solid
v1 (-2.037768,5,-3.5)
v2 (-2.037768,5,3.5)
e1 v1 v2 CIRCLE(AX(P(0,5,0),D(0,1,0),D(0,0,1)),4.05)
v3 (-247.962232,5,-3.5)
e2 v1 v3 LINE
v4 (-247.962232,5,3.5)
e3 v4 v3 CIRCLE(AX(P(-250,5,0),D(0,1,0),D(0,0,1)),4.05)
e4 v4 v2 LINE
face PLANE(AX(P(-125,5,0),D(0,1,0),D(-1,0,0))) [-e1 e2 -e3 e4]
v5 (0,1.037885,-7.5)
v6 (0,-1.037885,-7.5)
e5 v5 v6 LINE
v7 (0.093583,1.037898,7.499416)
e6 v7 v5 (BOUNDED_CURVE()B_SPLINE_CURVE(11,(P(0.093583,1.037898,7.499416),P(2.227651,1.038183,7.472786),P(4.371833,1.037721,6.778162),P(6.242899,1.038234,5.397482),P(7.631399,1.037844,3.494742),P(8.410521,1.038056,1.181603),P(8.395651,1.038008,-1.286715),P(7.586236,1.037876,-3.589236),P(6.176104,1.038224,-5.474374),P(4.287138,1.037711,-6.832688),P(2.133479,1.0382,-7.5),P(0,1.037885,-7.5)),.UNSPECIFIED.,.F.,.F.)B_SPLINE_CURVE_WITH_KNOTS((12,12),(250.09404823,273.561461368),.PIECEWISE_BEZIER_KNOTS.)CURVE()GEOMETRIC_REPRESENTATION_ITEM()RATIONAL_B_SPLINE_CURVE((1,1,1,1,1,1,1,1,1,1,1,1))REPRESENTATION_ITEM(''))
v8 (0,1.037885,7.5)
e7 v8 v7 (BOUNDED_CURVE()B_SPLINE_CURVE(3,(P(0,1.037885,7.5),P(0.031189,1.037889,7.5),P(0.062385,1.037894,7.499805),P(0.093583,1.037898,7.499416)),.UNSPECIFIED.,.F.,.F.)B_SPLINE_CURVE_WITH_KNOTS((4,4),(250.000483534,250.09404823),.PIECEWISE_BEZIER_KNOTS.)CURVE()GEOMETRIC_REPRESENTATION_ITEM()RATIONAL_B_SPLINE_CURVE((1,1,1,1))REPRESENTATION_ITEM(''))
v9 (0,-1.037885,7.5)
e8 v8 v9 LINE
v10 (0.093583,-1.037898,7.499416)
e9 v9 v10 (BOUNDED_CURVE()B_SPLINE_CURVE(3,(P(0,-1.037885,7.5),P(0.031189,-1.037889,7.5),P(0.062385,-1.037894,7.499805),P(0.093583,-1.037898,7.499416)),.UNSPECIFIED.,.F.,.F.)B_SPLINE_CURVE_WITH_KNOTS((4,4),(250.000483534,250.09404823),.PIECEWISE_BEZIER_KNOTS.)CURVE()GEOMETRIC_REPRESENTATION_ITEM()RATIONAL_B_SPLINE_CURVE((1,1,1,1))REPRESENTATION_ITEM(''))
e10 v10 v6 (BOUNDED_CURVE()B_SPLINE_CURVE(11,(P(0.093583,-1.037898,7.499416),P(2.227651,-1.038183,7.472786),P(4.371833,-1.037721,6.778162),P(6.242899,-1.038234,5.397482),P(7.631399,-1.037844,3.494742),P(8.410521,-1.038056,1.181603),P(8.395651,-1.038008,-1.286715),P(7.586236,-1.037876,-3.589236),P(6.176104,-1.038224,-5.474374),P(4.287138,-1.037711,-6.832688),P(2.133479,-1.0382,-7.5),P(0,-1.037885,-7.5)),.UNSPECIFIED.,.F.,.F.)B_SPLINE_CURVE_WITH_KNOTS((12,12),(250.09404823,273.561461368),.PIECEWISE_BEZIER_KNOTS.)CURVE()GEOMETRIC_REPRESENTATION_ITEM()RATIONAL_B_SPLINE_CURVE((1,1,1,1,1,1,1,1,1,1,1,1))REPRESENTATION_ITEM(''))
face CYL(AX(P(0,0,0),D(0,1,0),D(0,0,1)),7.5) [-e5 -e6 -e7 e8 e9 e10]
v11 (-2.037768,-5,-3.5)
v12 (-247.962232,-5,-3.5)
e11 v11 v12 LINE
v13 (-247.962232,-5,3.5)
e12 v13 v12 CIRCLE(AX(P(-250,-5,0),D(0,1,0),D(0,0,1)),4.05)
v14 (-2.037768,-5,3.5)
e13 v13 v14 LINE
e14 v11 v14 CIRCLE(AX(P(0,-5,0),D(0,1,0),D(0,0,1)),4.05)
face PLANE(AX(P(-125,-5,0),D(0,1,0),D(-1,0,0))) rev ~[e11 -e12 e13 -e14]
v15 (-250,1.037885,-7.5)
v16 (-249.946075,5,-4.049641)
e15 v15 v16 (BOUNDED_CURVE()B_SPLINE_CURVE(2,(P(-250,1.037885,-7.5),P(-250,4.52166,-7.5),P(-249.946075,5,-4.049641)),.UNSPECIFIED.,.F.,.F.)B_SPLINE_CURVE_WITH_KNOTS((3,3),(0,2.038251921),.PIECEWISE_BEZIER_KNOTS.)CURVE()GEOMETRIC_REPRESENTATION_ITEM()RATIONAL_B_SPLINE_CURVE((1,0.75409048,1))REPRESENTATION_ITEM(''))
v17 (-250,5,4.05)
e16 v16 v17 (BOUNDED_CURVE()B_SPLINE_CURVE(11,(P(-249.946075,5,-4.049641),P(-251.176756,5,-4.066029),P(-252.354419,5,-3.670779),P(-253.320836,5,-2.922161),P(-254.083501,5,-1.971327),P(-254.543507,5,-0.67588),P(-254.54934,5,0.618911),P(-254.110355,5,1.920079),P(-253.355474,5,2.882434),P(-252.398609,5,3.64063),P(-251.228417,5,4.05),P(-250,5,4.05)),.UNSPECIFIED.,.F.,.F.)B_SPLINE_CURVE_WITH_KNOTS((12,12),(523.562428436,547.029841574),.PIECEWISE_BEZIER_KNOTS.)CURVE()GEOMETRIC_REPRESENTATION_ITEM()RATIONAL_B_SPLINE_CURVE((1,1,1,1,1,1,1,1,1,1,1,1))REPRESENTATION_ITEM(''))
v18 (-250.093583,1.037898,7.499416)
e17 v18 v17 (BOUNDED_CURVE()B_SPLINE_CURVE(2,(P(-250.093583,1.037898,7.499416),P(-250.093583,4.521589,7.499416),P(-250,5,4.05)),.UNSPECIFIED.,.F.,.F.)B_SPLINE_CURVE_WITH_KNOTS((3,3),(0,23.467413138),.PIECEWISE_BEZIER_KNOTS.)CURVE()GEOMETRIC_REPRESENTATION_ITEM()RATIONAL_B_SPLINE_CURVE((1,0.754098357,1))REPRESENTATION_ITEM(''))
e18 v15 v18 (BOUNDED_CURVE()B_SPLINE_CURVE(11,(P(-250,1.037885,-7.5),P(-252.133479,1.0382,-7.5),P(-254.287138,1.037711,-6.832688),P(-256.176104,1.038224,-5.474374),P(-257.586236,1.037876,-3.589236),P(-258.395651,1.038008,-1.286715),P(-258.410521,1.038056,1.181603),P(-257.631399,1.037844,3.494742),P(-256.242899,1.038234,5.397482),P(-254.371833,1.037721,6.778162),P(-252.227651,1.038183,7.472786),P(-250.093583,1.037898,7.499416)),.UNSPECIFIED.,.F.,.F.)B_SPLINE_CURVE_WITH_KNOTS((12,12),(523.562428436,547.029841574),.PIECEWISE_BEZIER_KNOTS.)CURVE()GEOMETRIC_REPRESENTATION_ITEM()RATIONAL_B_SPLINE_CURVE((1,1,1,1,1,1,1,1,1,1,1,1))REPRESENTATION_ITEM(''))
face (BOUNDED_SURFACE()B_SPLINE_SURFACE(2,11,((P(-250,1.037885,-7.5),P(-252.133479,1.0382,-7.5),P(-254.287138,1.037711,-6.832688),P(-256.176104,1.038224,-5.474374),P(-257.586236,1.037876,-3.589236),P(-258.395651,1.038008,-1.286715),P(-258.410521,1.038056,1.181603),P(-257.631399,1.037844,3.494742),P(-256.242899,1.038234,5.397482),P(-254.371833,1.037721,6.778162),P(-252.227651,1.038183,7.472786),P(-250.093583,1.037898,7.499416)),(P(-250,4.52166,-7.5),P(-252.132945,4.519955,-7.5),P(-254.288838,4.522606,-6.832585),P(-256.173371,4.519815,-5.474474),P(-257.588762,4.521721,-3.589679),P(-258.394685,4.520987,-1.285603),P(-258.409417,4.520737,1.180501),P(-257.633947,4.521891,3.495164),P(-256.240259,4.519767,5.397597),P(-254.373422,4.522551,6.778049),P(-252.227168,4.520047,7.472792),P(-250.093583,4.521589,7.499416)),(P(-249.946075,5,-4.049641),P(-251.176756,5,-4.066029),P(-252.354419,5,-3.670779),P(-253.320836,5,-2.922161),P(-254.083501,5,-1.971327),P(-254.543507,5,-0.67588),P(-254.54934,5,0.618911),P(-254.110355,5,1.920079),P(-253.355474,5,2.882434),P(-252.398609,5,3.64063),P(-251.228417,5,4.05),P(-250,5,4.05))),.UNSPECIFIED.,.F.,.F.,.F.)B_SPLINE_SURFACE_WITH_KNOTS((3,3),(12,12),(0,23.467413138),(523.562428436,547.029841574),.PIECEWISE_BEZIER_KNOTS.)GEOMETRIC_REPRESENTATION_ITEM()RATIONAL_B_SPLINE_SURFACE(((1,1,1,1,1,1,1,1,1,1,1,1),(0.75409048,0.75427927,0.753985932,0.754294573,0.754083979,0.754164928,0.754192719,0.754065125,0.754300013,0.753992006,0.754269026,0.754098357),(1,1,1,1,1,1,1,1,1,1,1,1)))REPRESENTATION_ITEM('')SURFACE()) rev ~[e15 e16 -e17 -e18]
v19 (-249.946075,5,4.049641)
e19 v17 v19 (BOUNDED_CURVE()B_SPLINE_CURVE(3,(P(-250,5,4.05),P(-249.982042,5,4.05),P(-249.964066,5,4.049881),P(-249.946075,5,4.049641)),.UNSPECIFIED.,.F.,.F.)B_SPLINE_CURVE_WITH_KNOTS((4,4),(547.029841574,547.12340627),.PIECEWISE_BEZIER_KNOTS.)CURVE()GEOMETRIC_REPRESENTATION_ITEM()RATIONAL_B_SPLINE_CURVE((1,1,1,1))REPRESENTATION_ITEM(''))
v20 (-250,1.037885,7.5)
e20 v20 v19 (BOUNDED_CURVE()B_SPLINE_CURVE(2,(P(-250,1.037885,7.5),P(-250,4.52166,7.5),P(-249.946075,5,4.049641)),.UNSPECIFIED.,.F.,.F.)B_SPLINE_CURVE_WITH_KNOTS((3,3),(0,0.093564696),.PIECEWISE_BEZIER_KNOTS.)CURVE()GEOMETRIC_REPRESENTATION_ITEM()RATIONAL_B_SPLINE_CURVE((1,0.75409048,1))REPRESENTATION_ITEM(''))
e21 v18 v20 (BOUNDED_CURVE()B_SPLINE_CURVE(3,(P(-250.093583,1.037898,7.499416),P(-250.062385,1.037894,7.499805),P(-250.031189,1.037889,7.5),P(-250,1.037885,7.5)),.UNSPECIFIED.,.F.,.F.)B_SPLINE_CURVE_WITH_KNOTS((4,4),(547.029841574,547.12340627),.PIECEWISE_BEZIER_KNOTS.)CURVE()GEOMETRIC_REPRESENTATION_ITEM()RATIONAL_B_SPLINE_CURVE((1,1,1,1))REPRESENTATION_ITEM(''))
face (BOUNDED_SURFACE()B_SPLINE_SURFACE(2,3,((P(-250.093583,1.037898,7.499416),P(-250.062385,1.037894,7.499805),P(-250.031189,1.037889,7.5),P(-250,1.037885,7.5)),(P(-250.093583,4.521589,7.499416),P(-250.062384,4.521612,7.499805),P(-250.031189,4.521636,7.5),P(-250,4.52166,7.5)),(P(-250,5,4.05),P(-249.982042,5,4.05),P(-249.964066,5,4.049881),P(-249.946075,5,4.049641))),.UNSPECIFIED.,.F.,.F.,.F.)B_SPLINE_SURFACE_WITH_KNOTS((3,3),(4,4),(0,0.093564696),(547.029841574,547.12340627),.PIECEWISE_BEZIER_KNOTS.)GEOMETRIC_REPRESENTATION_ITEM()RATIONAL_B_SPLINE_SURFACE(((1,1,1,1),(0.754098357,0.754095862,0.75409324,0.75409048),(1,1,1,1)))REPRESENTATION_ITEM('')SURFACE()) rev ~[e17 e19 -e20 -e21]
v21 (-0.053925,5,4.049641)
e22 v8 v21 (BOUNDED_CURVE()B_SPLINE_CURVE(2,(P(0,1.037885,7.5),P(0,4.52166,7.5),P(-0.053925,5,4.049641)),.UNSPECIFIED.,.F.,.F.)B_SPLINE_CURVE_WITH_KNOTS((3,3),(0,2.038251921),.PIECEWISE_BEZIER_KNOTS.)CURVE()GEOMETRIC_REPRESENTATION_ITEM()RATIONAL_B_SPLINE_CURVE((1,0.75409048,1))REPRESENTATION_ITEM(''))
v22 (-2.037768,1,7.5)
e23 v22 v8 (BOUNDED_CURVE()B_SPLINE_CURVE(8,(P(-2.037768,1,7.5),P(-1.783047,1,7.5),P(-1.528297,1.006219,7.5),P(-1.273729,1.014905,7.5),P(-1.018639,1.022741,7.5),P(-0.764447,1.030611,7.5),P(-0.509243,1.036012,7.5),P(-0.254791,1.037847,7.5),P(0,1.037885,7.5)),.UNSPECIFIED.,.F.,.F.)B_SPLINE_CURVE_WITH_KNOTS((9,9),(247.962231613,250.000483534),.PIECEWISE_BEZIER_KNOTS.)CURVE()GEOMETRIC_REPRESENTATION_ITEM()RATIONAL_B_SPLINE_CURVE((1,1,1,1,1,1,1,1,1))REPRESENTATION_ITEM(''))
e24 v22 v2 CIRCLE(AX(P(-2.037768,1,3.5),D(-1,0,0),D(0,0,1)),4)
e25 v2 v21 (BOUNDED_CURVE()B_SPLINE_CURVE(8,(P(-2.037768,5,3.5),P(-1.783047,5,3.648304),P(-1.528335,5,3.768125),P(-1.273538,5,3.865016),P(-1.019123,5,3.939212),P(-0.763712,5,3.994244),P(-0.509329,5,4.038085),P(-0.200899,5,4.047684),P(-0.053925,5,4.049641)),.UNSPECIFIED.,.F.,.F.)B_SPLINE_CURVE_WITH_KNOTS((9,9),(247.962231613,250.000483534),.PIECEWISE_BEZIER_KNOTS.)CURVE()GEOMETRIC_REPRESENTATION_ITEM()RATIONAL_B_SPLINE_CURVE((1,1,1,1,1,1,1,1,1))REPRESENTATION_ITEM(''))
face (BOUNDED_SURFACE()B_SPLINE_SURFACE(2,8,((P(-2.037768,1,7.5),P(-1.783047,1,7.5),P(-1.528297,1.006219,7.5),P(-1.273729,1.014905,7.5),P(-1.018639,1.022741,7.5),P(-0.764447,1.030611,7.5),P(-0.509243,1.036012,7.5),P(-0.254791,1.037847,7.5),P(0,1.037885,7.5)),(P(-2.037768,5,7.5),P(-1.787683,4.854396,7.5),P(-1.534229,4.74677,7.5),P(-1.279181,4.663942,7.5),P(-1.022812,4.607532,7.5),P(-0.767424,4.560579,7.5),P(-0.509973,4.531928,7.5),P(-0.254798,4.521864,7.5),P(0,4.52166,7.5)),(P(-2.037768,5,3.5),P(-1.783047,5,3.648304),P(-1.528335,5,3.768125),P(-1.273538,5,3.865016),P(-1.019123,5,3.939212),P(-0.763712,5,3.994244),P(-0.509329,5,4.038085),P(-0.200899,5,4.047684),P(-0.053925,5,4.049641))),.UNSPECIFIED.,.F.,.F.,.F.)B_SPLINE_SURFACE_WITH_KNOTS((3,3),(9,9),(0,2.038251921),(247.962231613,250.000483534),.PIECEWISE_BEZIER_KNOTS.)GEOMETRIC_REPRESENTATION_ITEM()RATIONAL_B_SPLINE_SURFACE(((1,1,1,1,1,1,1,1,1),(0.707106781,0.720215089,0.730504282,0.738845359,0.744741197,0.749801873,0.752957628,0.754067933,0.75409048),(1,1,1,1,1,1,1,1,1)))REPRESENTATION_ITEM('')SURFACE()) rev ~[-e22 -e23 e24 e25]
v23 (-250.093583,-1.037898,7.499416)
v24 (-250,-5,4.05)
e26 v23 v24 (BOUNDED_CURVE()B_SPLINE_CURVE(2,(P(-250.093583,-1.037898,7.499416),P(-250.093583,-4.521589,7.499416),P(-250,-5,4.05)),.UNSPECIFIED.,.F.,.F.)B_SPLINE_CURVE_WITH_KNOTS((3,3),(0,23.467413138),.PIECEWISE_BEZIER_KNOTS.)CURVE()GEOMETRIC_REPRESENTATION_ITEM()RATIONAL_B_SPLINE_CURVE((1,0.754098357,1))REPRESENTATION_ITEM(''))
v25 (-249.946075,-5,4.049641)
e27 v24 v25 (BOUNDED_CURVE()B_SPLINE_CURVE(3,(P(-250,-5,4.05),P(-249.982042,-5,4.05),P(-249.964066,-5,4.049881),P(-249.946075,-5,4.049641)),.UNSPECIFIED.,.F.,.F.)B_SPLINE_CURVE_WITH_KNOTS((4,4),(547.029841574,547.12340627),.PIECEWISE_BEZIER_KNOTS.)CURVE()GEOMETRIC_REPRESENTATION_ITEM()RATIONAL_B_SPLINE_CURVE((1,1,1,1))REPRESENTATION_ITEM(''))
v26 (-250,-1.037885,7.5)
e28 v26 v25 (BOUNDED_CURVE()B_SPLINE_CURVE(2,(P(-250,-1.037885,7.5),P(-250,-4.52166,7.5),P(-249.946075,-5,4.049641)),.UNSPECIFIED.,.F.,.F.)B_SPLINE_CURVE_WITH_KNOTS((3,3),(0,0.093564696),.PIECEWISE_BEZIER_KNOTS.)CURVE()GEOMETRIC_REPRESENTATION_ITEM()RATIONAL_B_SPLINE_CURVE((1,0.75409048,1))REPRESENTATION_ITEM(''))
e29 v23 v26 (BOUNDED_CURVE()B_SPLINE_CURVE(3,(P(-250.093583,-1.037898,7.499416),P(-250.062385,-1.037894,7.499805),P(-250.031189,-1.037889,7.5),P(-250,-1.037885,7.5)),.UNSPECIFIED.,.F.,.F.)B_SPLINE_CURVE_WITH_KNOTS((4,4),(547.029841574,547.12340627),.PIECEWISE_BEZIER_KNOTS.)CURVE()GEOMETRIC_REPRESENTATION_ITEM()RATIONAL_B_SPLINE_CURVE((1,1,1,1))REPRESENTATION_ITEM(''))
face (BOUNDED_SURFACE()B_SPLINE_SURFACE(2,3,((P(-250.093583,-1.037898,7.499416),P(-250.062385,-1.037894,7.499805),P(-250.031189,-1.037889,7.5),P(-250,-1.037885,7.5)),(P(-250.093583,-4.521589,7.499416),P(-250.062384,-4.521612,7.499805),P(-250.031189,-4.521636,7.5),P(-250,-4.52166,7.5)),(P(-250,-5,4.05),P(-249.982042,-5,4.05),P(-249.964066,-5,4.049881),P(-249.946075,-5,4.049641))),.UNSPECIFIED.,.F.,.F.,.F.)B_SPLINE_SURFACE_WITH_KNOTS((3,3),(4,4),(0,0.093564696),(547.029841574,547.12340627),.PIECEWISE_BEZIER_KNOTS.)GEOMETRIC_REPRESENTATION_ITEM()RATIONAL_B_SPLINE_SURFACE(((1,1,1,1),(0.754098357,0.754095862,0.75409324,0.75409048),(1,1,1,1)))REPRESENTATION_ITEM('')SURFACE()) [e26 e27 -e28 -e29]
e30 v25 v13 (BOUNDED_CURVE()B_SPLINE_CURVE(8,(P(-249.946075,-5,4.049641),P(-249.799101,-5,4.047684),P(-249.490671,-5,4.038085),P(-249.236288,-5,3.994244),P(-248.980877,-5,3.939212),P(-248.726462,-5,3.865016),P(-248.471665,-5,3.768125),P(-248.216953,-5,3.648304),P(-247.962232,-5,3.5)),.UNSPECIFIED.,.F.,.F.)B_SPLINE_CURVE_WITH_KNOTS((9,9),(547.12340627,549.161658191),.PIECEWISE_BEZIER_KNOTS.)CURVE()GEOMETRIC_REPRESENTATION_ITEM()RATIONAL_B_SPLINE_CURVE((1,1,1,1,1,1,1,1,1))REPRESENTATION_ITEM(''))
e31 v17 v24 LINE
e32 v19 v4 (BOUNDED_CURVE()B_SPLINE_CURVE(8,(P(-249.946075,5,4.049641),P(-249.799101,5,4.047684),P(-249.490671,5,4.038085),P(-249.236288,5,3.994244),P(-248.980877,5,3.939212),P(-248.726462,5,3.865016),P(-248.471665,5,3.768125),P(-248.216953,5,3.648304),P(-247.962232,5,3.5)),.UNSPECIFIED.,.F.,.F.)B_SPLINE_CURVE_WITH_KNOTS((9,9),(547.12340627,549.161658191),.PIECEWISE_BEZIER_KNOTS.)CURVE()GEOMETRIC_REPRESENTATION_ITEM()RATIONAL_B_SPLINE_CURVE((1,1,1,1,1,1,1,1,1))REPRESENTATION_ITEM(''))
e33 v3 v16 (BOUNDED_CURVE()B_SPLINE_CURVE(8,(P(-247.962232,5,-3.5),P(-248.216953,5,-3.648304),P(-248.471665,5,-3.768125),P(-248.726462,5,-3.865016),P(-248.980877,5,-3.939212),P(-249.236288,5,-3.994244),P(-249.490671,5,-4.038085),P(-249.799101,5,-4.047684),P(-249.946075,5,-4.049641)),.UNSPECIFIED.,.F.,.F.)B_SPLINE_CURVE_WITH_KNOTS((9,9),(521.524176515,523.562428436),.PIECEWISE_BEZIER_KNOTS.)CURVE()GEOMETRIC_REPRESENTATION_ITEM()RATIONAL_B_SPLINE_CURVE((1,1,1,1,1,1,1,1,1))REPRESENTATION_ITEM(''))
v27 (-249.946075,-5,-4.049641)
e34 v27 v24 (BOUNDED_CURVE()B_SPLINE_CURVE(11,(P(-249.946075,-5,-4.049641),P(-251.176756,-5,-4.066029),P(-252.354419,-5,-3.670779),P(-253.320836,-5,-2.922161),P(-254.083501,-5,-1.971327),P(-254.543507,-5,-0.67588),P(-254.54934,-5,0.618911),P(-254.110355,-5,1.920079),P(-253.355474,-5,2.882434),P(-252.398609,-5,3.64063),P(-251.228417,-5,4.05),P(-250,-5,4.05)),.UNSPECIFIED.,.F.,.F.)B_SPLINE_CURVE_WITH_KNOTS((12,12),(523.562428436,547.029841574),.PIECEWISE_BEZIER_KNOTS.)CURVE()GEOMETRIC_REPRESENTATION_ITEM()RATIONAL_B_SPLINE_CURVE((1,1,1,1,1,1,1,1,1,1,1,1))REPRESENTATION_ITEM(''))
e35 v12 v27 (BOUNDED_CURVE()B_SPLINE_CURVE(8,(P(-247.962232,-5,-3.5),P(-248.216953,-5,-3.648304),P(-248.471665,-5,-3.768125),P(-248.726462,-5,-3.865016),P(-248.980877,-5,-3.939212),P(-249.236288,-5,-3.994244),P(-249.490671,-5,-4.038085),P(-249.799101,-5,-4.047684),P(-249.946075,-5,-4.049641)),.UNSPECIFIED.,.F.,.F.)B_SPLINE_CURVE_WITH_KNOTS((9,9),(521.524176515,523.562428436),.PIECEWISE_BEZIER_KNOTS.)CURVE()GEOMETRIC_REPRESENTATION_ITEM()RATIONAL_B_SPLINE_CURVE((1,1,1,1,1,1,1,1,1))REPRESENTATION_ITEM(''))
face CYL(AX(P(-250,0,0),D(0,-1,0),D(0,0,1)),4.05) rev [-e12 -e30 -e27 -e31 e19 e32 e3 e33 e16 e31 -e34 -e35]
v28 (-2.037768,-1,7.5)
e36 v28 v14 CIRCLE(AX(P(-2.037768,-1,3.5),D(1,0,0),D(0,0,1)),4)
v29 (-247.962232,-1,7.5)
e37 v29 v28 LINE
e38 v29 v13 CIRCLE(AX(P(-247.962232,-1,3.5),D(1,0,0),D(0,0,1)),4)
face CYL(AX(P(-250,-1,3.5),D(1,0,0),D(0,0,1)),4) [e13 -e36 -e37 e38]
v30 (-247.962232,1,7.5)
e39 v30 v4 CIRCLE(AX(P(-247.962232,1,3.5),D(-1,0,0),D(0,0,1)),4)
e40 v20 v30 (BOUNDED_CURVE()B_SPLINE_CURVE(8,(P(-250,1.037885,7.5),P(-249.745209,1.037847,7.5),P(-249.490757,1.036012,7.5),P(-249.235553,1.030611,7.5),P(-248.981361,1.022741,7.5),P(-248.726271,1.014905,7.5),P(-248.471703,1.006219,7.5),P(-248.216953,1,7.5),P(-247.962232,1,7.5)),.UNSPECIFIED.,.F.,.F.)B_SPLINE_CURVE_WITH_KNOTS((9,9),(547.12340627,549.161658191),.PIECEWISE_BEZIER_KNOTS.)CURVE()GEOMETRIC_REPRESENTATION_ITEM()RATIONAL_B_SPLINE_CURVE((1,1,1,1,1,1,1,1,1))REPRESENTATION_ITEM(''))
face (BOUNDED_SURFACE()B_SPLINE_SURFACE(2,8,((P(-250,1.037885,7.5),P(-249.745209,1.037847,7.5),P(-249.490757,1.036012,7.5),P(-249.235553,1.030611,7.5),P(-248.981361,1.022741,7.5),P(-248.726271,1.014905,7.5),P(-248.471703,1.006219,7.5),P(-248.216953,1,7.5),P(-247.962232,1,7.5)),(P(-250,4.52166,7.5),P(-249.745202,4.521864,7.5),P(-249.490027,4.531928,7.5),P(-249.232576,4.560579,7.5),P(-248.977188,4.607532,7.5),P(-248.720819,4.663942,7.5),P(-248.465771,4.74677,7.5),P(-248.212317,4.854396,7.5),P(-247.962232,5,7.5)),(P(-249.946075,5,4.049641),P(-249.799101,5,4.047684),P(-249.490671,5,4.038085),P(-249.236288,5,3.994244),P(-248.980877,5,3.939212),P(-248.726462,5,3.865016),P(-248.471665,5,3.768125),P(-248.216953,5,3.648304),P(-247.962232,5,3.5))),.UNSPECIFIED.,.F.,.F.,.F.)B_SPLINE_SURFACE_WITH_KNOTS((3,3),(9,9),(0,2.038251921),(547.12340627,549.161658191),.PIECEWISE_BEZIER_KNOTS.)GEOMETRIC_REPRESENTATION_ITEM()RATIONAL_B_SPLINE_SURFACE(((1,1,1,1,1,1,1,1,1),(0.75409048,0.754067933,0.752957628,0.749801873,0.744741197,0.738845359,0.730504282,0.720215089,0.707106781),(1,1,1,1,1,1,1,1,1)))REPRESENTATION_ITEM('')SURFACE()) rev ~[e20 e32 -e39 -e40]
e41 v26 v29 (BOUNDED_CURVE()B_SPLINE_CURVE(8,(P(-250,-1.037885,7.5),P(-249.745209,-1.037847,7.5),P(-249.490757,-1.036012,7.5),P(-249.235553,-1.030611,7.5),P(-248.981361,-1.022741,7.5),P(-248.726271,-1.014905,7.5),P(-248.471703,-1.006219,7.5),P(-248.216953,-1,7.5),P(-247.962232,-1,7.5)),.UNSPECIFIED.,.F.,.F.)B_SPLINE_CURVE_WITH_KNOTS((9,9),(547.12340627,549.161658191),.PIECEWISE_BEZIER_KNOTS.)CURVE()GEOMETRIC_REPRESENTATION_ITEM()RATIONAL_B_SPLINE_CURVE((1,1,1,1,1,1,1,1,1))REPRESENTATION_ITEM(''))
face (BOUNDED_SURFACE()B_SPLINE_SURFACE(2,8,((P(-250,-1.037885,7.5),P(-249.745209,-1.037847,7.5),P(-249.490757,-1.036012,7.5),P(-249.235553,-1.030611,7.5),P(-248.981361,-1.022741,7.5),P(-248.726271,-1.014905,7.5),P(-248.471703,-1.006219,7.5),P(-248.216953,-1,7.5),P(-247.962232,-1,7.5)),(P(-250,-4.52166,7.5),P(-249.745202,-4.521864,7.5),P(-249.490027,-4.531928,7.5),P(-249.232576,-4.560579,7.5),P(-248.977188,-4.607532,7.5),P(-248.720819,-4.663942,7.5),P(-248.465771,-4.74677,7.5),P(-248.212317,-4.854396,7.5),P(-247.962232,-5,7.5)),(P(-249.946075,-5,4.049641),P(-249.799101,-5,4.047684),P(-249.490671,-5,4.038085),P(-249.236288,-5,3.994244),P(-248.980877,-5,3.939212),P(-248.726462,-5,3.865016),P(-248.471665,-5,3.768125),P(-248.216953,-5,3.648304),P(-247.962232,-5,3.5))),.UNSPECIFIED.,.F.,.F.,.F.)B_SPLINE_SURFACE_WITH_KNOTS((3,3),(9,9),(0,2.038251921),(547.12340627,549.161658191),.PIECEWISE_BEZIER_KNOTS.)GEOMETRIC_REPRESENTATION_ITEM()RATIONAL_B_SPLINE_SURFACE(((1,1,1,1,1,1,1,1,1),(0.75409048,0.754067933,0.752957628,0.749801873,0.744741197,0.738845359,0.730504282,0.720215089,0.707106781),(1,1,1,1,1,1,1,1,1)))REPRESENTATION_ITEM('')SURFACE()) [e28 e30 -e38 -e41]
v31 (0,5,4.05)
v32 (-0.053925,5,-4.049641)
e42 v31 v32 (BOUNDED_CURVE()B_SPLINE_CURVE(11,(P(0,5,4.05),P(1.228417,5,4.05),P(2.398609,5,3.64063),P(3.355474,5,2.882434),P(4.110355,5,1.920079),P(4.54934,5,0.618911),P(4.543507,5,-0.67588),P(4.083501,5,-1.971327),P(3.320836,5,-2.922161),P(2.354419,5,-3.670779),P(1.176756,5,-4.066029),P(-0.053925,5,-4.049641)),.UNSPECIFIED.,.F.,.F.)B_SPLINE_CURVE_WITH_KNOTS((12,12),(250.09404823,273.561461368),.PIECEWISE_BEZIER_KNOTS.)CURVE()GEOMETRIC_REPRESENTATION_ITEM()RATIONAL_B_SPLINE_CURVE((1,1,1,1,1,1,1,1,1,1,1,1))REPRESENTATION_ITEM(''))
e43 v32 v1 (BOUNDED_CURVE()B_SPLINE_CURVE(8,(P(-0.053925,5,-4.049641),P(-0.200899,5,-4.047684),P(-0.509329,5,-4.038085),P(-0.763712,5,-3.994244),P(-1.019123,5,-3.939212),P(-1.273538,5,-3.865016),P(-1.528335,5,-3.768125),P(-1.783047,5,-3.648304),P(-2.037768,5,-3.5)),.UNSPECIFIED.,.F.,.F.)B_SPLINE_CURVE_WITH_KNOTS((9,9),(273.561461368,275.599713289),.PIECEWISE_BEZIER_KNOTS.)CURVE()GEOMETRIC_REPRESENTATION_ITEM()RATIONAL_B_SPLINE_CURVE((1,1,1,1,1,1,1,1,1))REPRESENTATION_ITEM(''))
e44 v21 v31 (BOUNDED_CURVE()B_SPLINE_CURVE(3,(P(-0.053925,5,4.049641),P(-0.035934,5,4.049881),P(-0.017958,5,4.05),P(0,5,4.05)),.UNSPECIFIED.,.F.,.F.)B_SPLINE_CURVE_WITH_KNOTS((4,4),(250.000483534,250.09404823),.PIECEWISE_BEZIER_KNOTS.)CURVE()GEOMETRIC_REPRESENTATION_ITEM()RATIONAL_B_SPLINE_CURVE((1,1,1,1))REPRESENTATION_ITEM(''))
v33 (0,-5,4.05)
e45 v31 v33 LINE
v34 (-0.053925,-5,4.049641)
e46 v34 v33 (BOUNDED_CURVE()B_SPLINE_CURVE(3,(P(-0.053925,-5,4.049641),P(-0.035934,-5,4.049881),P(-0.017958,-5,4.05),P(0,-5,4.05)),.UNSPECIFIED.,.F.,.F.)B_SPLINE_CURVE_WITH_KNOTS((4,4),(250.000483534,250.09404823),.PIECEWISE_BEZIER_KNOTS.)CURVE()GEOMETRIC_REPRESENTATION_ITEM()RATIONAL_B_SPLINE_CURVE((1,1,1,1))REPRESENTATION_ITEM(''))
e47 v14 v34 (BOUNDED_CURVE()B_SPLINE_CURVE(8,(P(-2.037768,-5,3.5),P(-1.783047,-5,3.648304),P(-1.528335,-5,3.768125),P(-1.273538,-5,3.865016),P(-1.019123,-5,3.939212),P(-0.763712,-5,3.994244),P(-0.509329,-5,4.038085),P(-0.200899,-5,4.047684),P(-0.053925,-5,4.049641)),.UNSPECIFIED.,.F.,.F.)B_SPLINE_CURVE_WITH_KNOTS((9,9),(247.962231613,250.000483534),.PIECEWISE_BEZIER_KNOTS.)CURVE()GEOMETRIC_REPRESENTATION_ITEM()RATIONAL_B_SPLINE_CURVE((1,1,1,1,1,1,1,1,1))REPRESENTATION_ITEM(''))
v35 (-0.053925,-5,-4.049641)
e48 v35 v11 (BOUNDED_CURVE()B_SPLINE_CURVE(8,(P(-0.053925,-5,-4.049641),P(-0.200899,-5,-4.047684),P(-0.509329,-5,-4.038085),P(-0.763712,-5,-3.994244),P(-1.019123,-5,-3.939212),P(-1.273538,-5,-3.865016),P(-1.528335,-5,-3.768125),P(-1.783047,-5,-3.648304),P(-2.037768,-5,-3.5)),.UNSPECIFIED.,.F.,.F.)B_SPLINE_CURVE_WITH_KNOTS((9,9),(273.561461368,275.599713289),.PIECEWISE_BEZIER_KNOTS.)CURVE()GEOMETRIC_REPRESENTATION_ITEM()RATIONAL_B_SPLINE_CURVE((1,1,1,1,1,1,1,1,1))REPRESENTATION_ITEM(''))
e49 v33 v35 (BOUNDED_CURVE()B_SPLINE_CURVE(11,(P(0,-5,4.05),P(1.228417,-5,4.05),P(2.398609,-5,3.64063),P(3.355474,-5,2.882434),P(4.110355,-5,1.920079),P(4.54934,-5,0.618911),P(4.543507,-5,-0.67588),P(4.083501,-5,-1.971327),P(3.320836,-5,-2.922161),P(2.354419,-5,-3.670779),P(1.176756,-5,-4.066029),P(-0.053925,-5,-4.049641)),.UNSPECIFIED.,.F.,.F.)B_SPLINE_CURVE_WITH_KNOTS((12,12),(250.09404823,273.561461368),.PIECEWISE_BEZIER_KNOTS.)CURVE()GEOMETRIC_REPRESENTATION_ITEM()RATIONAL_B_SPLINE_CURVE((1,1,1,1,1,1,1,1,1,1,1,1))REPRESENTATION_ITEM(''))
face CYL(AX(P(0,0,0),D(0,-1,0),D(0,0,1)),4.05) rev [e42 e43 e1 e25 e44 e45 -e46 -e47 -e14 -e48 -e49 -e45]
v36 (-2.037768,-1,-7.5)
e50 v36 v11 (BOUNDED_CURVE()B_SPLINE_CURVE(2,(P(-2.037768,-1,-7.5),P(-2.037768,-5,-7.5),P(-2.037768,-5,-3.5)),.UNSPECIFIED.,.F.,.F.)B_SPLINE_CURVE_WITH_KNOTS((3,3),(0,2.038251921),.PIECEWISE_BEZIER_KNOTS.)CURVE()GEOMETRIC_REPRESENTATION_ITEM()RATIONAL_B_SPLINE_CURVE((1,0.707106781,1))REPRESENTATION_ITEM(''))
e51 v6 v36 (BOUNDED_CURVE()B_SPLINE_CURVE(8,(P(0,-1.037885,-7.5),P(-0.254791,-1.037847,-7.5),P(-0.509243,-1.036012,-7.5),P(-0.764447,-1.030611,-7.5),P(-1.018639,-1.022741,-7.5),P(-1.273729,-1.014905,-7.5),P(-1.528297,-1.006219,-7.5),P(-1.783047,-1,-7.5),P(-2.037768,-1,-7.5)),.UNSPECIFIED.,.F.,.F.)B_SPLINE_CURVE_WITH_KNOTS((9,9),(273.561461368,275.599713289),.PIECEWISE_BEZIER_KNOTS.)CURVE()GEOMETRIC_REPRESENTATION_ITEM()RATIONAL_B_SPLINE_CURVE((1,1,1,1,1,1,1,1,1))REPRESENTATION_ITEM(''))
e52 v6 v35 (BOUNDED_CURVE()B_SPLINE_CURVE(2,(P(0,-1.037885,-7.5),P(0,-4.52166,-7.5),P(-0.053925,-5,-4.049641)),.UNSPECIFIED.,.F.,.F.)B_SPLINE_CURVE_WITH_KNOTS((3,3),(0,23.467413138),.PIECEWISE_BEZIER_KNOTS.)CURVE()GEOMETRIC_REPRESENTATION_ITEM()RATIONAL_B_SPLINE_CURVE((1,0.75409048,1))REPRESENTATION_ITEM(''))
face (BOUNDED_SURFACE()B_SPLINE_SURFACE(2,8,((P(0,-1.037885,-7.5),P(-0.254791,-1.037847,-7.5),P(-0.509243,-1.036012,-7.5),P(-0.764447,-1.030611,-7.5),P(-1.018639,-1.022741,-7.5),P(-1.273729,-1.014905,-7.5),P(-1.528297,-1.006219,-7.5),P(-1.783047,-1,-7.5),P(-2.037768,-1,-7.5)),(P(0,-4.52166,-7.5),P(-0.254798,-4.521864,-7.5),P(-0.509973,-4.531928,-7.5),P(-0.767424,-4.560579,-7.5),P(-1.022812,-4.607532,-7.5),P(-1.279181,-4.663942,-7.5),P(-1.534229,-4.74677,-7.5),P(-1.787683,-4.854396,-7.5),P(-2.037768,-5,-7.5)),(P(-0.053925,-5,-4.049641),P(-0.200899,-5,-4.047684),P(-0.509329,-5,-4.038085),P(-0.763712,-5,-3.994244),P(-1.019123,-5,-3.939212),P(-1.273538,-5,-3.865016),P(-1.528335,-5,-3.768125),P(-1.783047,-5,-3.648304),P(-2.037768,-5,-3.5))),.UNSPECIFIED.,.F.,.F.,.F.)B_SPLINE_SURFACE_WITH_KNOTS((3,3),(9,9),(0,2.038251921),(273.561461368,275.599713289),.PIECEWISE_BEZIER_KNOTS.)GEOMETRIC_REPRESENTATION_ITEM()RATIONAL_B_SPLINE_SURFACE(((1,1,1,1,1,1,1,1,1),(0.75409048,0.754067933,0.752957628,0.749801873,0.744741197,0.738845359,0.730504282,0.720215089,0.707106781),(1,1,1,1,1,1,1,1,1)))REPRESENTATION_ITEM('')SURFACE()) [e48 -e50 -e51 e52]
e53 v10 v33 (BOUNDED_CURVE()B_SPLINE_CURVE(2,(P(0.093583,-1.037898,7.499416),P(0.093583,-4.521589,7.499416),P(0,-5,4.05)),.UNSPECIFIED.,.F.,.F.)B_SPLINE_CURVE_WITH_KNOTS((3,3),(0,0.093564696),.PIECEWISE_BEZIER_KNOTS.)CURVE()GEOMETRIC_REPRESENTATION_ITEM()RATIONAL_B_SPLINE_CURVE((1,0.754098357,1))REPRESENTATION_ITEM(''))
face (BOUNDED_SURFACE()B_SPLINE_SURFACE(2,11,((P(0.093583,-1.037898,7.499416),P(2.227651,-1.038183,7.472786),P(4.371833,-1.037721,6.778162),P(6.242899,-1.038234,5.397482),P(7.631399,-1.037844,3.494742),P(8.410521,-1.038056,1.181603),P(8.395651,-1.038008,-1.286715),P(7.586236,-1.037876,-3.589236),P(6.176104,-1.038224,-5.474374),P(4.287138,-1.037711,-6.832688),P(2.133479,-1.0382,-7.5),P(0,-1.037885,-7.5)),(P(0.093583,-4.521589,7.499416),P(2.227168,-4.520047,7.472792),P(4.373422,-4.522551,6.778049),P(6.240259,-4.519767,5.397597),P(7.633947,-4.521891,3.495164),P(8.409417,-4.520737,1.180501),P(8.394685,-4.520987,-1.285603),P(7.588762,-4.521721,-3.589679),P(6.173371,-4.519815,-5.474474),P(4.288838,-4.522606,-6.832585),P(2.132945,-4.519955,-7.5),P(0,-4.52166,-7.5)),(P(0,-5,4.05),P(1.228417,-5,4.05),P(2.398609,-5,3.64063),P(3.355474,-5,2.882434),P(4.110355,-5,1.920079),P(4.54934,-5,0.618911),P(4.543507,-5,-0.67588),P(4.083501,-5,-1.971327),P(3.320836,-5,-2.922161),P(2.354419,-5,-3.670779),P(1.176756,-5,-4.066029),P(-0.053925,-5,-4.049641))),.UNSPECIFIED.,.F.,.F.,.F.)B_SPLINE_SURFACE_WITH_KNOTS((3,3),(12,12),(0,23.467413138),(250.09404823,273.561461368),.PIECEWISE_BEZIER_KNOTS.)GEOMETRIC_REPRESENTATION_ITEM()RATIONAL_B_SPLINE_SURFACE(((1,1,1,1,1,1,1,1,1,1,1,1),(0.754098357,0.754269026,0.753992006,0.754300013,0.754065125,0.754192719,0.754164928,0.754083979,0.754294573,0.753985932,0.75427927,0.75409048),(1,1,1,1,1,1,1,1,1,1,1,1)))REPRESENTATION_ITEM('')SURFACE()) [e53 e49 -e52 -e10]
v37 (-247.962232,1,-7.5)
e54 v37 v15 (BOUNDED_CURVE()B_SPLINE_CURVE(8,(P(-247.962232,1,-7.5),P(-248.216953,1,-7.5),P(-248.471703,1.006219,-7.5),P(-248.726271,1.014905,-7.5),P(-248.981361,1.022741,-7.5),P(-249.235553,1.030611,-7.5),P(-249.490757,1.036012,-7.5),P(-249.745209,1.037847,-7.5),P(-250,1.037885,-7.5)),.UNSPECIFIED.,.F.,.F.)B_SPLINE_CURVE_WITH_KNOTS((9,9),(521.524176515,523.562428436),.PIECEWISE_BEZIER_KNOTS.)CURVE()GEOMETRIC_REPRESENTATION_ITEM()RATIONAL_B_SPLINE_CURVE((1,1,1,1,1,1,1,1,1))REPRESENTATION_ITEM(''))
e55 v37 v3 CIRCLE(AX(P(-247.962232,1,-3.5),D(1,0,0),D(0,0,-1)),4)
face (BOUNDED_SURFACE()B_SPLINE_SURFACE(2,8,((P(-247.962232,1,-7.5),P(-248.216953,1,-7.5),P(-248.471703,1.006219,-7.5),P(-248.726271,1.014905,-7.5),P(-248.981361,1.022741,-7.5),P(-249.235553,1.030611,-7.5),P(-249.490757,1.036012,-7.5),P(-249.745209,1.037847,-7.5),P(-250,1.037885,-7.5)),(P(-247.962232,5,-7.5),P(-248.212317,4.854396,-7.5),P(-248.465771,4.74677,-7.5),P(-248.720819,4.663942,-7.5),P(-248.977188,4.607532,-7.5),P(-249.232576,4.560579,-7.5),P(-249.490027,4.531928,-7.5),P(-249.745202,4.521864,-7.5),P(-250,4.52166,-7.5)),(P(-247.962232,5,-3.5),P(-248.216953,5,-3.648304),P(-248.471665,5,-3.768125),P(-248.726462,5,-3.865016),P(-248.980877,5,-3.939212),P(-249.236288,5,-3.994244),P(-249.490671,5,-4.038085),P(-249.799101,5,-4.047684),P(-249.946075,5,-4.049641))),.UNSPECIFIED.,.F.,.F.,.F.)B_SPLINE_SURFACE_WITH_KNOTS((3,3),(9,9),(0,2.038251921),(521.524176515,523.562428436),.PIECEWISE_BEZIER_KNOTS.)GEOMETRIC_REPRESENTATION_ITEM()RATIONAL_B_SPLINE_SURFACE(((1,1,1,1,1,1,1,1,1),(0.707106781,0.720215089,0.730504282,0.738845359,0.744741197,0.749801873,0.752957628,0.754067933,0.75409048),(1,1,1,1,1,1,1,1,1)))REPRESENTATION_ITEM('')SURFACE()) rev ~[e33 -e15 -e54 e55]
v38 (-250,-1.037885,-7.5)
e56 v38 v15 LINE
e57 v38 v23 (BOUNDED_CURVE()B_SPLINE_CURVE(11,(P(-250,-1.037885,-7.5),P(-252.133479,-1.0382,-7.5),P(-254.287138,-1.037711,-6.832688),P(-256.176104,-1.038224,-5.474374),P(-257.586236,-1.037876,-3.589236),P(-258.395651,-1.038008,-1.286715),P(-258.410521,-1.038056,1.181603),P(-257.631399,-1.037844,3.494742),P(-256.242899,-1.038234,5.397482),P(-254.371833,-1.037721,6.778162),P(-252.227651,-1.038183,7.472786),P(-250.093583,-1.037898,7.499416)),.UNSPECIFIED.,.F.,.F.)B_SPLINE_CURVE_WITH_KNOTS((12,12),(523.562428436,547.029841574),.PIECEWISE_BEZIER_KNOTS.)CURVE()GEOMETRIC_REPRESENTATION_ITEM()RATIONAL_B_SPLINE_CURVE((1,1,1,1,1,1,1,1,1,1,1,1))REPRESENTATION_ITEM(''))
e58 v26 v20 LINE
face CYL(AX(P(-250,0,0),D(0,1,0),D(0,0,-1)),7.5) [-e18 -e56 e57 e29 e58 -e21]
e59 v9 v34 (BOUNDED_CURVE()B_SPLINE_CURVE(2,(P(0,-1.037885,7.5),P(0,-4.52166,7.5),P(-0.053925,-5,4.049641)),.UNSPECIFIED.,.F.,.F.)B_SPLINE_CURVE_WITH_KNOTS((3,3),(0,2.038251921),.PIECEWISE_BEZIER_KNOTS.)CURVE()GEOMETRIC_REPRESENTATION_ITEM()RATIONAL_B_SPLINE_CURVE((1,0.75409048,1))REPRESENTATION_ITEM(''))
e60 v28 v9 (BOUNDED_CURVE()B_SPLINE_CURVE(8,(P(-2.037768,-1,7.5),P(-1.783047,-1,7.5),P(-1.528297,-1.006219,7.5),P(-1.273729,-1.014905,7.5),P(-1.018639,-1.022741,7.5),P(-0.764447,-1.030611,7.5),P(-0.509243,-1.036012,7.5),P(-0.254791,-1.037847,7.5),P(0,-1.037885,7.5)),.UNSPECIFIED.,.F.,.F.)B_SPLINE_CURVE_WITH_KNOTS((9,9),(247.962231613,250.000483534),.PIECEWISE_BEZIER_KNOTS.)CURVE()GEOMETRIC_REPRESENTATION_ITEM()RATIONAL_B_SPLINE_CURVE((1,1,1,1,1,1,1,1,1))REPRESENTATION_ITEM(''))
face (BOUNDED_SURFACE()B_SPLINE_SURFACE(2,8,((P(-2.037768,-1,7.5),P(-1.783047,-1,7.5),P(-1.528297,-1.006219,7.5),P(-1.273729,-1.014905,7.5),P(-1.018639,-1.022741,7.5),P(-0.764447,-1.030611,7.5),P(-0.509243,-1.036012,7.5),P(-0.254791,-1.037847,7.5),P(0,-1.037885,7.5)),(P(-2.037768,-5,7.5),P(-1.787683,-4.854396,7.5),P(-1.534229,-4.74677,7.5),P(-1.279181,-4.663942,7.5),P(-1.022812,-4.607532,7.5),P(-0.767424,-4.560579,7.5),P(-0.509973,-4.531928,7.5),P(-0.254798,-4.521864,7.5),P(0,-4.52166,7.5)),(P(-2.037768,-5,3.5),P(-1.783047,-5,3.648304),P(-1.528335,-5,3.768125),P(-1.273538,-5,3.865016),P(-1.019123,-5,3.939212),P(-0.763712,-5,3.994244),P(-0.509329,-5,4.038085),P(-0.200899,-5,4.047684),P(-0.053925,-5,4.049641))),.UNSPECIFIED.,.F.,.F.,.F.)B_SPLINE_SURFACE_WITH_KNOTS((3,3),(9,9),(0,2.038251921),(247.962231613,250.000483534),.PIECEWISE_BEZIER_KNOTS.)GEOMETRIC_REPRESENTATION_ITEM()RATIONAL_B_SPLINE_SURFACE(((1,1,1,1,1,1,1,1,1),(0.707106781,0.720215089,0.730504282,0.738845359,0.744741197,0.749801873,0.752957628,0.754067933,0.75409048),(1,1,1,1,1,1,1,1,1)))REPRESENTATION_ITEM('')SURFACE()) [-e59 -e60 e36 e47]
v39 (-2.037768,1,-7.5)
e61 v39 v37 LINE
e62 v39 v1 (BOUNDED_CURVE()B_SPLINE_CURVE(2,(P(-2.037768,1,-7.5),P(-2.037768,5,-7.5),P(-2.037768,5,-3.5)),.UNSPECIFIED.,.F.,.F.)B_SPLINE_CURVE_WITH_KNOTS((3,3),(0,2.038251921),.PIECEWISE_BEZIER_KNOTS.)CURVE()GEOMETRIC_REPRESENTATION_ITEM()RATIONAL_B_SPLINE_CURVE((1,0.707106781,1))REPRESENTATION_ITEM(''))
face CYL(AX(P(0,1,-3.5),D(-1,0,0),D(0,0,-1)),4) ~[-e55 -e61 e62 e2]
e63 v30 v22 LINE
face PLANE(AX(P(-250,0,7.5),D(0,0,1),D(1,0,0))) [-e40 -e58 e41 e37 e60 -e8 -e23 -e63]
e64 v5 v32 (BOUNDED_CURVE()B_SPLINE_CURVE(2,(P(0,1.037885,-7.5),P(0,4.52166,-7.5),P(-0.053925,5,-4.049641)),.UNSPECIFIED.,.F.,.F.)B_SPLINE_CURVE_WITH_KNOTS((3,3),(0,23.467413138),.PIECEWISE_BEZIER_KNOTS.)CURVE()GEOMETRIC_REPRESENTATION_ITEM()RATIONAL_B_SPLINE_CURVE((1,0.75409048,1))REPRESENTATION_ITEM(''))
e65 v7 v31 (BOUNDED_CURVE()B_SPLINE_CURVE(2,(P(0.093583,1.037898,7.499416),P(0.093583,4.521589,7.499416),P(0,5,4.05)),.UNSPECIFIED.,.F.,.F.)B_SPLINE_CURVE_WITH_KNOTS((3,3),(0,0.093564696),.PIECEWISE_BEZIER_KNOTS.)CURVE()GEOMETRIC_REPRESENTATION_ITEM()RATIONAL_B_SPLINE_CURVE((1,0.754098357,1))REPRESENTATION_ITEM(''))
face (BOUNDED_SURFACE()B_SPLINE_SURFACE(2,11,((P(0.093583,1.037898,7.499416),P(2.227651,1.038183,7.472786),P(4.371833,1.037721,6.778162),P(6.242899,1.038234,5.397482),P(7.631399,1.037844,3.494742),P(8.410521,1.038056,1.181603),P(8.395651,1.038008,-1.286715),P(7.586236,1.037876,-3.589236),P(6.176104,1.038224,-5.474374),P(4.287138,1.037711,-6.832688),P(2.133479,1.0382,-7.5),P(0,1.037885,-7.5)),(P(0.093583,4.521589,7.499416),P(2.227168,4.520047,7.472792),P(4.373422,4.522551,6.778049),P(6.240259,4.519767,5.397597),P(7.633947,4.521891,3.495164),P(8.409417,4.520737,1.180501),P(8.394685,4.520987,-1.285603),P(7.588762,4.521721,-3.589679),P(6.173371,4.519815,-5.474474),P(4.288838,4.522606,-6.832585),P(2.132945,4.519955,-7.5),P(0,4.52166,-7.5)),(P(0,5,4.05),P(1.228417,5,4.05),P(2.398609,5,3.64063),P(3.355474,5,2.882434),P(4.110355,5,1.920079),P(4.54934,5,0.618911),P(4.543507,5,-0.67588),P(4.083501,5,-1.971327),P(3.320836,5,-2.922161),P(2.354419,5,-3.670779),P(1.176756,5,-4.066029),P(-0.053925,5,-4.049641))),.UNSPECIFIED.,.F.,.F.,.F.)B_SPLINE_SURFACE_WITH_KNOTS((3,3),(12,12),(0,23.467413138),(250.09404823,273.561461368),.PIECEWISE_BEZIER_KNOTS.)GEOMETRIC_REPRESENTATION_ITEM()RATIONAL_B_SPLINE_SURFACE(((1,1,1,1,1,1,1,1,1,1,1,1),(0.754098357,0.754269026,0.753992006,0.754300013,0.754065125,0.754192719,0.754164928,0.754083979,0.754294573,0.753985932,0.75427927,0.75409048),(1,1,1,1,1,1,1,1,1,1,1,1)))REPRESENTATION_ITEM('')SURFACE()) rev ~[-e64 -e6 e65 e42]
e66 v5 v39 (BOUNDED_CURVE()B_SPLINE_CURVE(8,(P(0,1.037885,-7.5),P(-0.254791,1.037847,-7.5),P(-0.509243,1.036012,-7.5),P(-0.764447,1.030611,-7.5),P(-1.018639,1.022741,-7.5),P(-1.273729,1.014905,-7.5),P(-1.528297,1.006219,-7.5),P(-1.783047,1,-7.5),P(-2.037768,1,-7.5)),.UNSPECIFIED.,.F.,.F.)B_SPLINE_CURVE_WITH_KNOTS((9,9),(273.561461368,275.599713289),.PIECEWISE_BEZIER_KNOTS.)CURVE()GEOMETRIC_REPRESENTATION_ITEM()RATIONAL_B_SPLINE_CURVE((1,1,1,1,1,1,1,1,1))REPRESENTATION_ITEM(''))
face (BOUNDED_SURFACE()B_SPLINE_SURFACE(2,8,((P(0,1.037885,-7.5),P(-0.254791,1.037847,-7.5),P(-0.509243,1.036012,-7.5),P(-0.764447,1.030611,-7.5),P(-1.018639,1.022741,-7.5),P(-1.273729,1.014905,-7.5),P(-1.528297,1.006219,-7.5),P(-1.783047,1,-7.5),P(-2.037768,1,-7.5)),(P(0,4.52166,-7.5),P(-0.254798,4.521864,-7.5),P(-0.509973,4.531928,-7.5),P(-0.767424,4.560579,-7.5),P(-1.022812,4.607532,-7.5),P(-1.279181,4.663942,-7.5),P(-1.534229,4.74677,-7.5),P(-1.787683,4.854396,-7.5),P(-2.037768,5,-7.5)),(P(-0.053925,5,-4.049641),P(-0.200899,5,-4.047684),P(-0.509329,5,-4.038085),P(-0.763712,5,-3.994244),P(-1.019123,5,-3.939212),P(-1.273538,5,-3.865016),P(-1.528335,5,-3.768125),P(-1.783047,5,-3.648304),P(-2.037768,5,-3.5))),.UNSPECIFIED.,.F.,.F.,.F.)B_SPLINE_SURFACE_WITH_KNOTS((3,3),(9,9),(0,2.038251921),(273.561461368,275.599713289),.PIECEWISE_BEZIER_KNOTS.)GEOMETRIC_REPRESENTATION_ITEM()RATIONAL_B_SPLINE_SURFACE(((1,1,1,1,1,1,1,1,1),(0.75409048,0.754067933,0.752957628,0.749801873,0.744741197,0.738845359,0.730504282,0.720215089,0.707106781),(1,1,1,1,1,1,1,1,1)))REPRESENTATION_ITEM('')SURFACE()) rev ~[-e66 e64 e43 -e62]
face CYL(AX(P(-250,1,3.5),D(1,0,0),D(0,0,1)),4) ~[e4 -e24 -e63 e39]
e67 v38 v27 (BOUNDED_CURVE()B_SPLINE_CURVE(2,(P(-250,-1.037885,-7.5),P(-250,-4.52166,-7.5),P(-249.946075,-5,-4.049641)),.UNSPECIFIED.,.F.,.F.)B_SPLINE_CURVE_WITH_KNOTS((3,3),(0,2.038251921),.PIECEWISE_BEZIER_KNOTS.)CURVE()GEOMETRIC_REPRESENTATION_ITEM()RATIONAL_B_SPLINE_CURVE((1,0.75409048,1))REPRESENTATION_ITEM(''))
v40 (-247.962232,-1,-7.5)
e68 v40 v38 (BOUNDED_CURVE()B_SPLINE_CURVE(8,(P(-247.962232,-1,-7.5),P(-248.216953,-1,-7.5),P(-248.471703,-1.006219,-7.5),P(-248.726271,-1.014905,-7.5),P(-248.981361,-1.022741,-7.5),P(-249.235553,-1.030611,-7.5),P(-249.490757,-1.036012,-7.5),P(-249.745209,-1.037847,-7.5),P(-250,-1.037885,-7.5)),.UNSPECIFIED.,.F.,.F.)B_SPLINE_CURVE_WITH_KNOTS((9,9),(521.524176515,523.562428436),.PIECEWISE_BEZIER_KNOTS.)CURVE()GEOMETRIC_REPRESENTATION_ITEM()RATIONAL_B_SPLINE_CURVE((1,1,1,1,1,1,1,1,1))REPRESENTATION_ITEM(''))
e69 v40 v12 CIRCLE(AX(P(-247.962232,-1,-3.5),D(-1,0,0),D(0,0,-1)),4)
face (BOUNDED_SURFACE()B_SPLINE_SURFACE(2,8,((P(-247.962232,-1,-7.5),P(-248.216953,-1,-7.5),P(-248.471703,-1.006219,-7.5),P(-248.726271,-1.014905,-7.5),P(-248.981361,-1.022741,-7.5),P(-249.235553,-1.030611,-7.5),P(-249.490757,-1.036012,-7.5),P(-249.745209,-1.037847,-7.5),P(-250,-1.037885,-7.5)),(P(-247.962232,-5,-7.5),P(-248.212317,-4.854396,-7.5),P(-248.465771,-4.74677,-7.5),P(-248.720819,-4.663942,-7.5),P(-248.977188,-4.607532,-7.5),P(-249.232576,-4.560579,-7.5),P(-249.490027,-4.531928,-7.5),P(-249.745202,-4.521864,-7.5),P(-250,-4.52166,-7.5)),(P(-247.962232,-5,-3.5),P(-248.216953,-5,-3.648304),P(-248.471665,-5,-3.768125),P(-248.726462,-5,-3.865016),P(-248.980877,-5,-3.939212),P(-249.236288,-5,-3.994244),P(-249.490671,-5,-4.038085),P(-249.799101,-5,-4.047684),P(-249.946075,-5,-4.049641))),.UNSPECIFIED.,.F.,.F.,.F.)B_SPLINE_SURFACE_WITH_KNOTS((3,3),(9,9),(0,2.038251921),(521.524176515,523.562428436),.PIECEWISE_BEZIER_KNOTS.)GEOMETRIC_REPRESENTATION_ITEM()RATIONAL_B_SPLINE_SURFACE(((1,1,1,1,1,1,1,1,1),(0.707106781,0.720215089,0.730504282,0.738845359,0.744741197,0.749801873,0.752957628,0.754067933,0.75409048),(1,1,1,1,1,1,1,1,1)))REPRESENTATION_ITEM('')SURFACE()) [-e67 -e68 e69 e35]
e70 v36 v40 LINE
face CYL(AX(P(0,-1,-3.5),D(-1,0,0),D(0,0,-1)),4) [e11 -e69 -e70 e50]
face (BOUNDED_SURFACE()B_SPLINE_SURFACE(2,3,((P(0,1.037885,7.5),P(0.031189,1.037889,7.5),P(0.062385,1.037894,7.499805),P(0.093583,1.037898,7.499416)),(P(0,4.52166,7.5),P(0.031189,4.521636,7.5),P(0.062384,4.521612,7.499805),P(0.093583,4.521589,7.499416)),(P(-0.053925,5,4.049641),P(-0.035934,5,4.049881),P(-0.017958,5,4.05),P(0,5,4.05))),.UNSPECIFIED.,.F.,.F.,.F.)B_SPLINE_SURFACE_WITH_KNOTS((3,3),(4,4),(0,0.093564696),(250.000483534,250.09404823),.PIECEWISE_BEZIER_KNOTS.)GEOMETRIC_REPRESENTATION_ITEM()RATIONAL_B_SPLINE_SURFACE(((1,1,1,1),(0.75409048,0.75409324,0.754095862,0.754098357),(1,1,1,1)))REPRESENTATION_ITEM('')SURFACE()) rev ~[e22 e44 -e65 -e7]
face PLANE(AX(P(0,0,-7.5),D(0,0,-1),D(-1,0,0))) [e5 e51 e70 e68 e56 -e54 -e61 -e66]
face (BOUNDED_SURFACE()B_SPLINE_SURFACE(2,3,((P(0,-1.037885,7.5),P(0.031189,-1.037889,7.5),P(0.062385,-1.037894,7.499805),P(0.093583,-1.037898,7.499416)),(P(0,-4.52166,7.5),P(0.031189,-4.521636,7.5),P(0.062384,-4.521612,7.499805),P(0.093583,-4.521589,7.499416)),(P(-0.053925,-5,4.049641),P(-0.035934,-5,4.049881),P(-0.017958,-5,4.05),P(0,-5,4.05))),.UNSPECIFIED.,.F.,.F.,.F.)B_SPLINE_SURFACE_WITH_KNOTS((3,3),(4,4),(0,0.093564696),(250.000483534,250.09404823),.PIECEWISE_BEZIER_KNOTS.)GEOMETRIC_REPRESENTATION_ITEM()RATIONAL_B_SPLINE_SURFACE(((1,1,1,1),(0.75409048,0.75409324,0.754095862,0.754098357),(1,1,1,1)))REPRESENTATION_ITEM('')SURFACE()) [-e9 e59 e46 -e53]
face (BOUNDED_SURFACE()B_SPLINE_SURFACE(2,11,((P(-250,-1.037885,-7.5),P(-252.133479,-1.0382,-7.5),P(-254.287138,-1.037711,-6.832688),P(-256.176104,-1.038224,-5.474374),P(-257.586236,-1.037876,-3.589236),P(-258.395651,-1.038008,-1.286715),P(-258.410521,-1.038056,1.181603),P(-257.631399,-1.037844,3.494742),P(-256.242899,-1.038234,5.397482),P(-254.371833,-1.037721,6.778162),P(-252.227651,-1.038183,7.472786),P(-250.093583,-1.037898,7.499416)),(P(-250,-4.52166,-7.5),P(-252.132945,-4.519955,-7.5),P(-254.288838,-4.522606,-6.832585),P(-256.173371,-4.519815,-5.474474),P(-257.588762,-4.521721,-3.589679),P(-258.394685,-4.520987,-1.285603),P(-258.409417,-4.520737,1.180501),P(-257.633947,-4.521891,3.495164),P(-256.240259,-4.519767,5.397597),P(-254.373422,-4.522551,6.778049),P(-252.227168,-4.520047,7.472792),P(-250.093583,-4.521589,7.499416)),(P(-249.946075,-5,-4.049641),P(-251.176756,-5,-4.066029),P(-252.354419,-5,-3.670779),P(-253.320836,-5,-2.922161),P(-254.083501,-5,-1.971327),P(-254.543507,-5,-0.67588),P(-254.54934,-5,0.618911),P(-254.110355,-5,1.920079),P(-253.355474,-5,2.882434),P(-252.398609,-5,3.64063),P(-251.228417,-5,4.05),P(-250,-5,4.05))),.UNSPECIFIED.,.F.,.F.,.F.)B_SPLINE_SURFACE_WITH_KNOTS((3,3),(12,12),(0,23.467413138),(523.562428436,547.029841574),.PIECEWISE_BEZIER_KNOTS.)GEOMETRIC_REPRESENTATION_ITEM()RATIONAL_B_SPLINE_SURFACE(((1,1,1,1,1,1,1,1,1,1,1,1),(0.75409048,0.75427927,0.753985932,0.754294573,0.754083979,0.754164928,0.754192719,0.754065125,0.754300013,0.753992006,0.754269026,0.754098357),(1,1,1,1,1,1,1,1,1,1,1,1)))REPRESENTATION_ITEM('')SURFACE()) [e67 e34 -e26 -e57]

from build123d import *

# Parameters (mm, degrees)
CROQUIS1_R              = 4.05
SALIENTE_EXTRUIR1_DEPTH = 5
REDONDEO6_R             = 4


with BuildPart() as part:
    # Croquis1 → Saliente-Extruir1 (new, symmetric)
    with BuildSketch(Plane(origin=(0, 0, 0), x_dir=(-1, 0, 0), z_dir=(0, 1, 0))):
        with BuildLine():
            Line((0, -7.5), (250, -7.5))
            ThreePointArc((250, -7.5), (257.5, 0), (250, 7.5))
            Line((250, 7.5), (0, 7.5))
            ThreePointArc((0, 7.5), (-7.5, 0), (0, -7.5))
        make_face()
        with Locations(Location((0, 0, 0), (0, 0, 90))):
            Circle(CROQUIS1_R, mode=Mode.SUBTRACT)
        with Locations(Location((250, 0, 0), (0, 0, 90))):
            Circle(CROQUIS1_R, mode=Mode.SUBTRACT)
    extrude(amount=SALIENTE_EXTRUIR1_DEPTH, both=True)

    # Redondeo6
    redondeo6_edges = [part.edges().sort_by_distance(p)[0] for p in [
        (-125, 5, 7.5),
        (-125, -5, 7.5),
        (-125, 5, -7.5),
        (-125, -5, -7.5),
    ]]
    fillet(redondeo6_edges, radius=REDONDEO6_R)


solid = part.part
